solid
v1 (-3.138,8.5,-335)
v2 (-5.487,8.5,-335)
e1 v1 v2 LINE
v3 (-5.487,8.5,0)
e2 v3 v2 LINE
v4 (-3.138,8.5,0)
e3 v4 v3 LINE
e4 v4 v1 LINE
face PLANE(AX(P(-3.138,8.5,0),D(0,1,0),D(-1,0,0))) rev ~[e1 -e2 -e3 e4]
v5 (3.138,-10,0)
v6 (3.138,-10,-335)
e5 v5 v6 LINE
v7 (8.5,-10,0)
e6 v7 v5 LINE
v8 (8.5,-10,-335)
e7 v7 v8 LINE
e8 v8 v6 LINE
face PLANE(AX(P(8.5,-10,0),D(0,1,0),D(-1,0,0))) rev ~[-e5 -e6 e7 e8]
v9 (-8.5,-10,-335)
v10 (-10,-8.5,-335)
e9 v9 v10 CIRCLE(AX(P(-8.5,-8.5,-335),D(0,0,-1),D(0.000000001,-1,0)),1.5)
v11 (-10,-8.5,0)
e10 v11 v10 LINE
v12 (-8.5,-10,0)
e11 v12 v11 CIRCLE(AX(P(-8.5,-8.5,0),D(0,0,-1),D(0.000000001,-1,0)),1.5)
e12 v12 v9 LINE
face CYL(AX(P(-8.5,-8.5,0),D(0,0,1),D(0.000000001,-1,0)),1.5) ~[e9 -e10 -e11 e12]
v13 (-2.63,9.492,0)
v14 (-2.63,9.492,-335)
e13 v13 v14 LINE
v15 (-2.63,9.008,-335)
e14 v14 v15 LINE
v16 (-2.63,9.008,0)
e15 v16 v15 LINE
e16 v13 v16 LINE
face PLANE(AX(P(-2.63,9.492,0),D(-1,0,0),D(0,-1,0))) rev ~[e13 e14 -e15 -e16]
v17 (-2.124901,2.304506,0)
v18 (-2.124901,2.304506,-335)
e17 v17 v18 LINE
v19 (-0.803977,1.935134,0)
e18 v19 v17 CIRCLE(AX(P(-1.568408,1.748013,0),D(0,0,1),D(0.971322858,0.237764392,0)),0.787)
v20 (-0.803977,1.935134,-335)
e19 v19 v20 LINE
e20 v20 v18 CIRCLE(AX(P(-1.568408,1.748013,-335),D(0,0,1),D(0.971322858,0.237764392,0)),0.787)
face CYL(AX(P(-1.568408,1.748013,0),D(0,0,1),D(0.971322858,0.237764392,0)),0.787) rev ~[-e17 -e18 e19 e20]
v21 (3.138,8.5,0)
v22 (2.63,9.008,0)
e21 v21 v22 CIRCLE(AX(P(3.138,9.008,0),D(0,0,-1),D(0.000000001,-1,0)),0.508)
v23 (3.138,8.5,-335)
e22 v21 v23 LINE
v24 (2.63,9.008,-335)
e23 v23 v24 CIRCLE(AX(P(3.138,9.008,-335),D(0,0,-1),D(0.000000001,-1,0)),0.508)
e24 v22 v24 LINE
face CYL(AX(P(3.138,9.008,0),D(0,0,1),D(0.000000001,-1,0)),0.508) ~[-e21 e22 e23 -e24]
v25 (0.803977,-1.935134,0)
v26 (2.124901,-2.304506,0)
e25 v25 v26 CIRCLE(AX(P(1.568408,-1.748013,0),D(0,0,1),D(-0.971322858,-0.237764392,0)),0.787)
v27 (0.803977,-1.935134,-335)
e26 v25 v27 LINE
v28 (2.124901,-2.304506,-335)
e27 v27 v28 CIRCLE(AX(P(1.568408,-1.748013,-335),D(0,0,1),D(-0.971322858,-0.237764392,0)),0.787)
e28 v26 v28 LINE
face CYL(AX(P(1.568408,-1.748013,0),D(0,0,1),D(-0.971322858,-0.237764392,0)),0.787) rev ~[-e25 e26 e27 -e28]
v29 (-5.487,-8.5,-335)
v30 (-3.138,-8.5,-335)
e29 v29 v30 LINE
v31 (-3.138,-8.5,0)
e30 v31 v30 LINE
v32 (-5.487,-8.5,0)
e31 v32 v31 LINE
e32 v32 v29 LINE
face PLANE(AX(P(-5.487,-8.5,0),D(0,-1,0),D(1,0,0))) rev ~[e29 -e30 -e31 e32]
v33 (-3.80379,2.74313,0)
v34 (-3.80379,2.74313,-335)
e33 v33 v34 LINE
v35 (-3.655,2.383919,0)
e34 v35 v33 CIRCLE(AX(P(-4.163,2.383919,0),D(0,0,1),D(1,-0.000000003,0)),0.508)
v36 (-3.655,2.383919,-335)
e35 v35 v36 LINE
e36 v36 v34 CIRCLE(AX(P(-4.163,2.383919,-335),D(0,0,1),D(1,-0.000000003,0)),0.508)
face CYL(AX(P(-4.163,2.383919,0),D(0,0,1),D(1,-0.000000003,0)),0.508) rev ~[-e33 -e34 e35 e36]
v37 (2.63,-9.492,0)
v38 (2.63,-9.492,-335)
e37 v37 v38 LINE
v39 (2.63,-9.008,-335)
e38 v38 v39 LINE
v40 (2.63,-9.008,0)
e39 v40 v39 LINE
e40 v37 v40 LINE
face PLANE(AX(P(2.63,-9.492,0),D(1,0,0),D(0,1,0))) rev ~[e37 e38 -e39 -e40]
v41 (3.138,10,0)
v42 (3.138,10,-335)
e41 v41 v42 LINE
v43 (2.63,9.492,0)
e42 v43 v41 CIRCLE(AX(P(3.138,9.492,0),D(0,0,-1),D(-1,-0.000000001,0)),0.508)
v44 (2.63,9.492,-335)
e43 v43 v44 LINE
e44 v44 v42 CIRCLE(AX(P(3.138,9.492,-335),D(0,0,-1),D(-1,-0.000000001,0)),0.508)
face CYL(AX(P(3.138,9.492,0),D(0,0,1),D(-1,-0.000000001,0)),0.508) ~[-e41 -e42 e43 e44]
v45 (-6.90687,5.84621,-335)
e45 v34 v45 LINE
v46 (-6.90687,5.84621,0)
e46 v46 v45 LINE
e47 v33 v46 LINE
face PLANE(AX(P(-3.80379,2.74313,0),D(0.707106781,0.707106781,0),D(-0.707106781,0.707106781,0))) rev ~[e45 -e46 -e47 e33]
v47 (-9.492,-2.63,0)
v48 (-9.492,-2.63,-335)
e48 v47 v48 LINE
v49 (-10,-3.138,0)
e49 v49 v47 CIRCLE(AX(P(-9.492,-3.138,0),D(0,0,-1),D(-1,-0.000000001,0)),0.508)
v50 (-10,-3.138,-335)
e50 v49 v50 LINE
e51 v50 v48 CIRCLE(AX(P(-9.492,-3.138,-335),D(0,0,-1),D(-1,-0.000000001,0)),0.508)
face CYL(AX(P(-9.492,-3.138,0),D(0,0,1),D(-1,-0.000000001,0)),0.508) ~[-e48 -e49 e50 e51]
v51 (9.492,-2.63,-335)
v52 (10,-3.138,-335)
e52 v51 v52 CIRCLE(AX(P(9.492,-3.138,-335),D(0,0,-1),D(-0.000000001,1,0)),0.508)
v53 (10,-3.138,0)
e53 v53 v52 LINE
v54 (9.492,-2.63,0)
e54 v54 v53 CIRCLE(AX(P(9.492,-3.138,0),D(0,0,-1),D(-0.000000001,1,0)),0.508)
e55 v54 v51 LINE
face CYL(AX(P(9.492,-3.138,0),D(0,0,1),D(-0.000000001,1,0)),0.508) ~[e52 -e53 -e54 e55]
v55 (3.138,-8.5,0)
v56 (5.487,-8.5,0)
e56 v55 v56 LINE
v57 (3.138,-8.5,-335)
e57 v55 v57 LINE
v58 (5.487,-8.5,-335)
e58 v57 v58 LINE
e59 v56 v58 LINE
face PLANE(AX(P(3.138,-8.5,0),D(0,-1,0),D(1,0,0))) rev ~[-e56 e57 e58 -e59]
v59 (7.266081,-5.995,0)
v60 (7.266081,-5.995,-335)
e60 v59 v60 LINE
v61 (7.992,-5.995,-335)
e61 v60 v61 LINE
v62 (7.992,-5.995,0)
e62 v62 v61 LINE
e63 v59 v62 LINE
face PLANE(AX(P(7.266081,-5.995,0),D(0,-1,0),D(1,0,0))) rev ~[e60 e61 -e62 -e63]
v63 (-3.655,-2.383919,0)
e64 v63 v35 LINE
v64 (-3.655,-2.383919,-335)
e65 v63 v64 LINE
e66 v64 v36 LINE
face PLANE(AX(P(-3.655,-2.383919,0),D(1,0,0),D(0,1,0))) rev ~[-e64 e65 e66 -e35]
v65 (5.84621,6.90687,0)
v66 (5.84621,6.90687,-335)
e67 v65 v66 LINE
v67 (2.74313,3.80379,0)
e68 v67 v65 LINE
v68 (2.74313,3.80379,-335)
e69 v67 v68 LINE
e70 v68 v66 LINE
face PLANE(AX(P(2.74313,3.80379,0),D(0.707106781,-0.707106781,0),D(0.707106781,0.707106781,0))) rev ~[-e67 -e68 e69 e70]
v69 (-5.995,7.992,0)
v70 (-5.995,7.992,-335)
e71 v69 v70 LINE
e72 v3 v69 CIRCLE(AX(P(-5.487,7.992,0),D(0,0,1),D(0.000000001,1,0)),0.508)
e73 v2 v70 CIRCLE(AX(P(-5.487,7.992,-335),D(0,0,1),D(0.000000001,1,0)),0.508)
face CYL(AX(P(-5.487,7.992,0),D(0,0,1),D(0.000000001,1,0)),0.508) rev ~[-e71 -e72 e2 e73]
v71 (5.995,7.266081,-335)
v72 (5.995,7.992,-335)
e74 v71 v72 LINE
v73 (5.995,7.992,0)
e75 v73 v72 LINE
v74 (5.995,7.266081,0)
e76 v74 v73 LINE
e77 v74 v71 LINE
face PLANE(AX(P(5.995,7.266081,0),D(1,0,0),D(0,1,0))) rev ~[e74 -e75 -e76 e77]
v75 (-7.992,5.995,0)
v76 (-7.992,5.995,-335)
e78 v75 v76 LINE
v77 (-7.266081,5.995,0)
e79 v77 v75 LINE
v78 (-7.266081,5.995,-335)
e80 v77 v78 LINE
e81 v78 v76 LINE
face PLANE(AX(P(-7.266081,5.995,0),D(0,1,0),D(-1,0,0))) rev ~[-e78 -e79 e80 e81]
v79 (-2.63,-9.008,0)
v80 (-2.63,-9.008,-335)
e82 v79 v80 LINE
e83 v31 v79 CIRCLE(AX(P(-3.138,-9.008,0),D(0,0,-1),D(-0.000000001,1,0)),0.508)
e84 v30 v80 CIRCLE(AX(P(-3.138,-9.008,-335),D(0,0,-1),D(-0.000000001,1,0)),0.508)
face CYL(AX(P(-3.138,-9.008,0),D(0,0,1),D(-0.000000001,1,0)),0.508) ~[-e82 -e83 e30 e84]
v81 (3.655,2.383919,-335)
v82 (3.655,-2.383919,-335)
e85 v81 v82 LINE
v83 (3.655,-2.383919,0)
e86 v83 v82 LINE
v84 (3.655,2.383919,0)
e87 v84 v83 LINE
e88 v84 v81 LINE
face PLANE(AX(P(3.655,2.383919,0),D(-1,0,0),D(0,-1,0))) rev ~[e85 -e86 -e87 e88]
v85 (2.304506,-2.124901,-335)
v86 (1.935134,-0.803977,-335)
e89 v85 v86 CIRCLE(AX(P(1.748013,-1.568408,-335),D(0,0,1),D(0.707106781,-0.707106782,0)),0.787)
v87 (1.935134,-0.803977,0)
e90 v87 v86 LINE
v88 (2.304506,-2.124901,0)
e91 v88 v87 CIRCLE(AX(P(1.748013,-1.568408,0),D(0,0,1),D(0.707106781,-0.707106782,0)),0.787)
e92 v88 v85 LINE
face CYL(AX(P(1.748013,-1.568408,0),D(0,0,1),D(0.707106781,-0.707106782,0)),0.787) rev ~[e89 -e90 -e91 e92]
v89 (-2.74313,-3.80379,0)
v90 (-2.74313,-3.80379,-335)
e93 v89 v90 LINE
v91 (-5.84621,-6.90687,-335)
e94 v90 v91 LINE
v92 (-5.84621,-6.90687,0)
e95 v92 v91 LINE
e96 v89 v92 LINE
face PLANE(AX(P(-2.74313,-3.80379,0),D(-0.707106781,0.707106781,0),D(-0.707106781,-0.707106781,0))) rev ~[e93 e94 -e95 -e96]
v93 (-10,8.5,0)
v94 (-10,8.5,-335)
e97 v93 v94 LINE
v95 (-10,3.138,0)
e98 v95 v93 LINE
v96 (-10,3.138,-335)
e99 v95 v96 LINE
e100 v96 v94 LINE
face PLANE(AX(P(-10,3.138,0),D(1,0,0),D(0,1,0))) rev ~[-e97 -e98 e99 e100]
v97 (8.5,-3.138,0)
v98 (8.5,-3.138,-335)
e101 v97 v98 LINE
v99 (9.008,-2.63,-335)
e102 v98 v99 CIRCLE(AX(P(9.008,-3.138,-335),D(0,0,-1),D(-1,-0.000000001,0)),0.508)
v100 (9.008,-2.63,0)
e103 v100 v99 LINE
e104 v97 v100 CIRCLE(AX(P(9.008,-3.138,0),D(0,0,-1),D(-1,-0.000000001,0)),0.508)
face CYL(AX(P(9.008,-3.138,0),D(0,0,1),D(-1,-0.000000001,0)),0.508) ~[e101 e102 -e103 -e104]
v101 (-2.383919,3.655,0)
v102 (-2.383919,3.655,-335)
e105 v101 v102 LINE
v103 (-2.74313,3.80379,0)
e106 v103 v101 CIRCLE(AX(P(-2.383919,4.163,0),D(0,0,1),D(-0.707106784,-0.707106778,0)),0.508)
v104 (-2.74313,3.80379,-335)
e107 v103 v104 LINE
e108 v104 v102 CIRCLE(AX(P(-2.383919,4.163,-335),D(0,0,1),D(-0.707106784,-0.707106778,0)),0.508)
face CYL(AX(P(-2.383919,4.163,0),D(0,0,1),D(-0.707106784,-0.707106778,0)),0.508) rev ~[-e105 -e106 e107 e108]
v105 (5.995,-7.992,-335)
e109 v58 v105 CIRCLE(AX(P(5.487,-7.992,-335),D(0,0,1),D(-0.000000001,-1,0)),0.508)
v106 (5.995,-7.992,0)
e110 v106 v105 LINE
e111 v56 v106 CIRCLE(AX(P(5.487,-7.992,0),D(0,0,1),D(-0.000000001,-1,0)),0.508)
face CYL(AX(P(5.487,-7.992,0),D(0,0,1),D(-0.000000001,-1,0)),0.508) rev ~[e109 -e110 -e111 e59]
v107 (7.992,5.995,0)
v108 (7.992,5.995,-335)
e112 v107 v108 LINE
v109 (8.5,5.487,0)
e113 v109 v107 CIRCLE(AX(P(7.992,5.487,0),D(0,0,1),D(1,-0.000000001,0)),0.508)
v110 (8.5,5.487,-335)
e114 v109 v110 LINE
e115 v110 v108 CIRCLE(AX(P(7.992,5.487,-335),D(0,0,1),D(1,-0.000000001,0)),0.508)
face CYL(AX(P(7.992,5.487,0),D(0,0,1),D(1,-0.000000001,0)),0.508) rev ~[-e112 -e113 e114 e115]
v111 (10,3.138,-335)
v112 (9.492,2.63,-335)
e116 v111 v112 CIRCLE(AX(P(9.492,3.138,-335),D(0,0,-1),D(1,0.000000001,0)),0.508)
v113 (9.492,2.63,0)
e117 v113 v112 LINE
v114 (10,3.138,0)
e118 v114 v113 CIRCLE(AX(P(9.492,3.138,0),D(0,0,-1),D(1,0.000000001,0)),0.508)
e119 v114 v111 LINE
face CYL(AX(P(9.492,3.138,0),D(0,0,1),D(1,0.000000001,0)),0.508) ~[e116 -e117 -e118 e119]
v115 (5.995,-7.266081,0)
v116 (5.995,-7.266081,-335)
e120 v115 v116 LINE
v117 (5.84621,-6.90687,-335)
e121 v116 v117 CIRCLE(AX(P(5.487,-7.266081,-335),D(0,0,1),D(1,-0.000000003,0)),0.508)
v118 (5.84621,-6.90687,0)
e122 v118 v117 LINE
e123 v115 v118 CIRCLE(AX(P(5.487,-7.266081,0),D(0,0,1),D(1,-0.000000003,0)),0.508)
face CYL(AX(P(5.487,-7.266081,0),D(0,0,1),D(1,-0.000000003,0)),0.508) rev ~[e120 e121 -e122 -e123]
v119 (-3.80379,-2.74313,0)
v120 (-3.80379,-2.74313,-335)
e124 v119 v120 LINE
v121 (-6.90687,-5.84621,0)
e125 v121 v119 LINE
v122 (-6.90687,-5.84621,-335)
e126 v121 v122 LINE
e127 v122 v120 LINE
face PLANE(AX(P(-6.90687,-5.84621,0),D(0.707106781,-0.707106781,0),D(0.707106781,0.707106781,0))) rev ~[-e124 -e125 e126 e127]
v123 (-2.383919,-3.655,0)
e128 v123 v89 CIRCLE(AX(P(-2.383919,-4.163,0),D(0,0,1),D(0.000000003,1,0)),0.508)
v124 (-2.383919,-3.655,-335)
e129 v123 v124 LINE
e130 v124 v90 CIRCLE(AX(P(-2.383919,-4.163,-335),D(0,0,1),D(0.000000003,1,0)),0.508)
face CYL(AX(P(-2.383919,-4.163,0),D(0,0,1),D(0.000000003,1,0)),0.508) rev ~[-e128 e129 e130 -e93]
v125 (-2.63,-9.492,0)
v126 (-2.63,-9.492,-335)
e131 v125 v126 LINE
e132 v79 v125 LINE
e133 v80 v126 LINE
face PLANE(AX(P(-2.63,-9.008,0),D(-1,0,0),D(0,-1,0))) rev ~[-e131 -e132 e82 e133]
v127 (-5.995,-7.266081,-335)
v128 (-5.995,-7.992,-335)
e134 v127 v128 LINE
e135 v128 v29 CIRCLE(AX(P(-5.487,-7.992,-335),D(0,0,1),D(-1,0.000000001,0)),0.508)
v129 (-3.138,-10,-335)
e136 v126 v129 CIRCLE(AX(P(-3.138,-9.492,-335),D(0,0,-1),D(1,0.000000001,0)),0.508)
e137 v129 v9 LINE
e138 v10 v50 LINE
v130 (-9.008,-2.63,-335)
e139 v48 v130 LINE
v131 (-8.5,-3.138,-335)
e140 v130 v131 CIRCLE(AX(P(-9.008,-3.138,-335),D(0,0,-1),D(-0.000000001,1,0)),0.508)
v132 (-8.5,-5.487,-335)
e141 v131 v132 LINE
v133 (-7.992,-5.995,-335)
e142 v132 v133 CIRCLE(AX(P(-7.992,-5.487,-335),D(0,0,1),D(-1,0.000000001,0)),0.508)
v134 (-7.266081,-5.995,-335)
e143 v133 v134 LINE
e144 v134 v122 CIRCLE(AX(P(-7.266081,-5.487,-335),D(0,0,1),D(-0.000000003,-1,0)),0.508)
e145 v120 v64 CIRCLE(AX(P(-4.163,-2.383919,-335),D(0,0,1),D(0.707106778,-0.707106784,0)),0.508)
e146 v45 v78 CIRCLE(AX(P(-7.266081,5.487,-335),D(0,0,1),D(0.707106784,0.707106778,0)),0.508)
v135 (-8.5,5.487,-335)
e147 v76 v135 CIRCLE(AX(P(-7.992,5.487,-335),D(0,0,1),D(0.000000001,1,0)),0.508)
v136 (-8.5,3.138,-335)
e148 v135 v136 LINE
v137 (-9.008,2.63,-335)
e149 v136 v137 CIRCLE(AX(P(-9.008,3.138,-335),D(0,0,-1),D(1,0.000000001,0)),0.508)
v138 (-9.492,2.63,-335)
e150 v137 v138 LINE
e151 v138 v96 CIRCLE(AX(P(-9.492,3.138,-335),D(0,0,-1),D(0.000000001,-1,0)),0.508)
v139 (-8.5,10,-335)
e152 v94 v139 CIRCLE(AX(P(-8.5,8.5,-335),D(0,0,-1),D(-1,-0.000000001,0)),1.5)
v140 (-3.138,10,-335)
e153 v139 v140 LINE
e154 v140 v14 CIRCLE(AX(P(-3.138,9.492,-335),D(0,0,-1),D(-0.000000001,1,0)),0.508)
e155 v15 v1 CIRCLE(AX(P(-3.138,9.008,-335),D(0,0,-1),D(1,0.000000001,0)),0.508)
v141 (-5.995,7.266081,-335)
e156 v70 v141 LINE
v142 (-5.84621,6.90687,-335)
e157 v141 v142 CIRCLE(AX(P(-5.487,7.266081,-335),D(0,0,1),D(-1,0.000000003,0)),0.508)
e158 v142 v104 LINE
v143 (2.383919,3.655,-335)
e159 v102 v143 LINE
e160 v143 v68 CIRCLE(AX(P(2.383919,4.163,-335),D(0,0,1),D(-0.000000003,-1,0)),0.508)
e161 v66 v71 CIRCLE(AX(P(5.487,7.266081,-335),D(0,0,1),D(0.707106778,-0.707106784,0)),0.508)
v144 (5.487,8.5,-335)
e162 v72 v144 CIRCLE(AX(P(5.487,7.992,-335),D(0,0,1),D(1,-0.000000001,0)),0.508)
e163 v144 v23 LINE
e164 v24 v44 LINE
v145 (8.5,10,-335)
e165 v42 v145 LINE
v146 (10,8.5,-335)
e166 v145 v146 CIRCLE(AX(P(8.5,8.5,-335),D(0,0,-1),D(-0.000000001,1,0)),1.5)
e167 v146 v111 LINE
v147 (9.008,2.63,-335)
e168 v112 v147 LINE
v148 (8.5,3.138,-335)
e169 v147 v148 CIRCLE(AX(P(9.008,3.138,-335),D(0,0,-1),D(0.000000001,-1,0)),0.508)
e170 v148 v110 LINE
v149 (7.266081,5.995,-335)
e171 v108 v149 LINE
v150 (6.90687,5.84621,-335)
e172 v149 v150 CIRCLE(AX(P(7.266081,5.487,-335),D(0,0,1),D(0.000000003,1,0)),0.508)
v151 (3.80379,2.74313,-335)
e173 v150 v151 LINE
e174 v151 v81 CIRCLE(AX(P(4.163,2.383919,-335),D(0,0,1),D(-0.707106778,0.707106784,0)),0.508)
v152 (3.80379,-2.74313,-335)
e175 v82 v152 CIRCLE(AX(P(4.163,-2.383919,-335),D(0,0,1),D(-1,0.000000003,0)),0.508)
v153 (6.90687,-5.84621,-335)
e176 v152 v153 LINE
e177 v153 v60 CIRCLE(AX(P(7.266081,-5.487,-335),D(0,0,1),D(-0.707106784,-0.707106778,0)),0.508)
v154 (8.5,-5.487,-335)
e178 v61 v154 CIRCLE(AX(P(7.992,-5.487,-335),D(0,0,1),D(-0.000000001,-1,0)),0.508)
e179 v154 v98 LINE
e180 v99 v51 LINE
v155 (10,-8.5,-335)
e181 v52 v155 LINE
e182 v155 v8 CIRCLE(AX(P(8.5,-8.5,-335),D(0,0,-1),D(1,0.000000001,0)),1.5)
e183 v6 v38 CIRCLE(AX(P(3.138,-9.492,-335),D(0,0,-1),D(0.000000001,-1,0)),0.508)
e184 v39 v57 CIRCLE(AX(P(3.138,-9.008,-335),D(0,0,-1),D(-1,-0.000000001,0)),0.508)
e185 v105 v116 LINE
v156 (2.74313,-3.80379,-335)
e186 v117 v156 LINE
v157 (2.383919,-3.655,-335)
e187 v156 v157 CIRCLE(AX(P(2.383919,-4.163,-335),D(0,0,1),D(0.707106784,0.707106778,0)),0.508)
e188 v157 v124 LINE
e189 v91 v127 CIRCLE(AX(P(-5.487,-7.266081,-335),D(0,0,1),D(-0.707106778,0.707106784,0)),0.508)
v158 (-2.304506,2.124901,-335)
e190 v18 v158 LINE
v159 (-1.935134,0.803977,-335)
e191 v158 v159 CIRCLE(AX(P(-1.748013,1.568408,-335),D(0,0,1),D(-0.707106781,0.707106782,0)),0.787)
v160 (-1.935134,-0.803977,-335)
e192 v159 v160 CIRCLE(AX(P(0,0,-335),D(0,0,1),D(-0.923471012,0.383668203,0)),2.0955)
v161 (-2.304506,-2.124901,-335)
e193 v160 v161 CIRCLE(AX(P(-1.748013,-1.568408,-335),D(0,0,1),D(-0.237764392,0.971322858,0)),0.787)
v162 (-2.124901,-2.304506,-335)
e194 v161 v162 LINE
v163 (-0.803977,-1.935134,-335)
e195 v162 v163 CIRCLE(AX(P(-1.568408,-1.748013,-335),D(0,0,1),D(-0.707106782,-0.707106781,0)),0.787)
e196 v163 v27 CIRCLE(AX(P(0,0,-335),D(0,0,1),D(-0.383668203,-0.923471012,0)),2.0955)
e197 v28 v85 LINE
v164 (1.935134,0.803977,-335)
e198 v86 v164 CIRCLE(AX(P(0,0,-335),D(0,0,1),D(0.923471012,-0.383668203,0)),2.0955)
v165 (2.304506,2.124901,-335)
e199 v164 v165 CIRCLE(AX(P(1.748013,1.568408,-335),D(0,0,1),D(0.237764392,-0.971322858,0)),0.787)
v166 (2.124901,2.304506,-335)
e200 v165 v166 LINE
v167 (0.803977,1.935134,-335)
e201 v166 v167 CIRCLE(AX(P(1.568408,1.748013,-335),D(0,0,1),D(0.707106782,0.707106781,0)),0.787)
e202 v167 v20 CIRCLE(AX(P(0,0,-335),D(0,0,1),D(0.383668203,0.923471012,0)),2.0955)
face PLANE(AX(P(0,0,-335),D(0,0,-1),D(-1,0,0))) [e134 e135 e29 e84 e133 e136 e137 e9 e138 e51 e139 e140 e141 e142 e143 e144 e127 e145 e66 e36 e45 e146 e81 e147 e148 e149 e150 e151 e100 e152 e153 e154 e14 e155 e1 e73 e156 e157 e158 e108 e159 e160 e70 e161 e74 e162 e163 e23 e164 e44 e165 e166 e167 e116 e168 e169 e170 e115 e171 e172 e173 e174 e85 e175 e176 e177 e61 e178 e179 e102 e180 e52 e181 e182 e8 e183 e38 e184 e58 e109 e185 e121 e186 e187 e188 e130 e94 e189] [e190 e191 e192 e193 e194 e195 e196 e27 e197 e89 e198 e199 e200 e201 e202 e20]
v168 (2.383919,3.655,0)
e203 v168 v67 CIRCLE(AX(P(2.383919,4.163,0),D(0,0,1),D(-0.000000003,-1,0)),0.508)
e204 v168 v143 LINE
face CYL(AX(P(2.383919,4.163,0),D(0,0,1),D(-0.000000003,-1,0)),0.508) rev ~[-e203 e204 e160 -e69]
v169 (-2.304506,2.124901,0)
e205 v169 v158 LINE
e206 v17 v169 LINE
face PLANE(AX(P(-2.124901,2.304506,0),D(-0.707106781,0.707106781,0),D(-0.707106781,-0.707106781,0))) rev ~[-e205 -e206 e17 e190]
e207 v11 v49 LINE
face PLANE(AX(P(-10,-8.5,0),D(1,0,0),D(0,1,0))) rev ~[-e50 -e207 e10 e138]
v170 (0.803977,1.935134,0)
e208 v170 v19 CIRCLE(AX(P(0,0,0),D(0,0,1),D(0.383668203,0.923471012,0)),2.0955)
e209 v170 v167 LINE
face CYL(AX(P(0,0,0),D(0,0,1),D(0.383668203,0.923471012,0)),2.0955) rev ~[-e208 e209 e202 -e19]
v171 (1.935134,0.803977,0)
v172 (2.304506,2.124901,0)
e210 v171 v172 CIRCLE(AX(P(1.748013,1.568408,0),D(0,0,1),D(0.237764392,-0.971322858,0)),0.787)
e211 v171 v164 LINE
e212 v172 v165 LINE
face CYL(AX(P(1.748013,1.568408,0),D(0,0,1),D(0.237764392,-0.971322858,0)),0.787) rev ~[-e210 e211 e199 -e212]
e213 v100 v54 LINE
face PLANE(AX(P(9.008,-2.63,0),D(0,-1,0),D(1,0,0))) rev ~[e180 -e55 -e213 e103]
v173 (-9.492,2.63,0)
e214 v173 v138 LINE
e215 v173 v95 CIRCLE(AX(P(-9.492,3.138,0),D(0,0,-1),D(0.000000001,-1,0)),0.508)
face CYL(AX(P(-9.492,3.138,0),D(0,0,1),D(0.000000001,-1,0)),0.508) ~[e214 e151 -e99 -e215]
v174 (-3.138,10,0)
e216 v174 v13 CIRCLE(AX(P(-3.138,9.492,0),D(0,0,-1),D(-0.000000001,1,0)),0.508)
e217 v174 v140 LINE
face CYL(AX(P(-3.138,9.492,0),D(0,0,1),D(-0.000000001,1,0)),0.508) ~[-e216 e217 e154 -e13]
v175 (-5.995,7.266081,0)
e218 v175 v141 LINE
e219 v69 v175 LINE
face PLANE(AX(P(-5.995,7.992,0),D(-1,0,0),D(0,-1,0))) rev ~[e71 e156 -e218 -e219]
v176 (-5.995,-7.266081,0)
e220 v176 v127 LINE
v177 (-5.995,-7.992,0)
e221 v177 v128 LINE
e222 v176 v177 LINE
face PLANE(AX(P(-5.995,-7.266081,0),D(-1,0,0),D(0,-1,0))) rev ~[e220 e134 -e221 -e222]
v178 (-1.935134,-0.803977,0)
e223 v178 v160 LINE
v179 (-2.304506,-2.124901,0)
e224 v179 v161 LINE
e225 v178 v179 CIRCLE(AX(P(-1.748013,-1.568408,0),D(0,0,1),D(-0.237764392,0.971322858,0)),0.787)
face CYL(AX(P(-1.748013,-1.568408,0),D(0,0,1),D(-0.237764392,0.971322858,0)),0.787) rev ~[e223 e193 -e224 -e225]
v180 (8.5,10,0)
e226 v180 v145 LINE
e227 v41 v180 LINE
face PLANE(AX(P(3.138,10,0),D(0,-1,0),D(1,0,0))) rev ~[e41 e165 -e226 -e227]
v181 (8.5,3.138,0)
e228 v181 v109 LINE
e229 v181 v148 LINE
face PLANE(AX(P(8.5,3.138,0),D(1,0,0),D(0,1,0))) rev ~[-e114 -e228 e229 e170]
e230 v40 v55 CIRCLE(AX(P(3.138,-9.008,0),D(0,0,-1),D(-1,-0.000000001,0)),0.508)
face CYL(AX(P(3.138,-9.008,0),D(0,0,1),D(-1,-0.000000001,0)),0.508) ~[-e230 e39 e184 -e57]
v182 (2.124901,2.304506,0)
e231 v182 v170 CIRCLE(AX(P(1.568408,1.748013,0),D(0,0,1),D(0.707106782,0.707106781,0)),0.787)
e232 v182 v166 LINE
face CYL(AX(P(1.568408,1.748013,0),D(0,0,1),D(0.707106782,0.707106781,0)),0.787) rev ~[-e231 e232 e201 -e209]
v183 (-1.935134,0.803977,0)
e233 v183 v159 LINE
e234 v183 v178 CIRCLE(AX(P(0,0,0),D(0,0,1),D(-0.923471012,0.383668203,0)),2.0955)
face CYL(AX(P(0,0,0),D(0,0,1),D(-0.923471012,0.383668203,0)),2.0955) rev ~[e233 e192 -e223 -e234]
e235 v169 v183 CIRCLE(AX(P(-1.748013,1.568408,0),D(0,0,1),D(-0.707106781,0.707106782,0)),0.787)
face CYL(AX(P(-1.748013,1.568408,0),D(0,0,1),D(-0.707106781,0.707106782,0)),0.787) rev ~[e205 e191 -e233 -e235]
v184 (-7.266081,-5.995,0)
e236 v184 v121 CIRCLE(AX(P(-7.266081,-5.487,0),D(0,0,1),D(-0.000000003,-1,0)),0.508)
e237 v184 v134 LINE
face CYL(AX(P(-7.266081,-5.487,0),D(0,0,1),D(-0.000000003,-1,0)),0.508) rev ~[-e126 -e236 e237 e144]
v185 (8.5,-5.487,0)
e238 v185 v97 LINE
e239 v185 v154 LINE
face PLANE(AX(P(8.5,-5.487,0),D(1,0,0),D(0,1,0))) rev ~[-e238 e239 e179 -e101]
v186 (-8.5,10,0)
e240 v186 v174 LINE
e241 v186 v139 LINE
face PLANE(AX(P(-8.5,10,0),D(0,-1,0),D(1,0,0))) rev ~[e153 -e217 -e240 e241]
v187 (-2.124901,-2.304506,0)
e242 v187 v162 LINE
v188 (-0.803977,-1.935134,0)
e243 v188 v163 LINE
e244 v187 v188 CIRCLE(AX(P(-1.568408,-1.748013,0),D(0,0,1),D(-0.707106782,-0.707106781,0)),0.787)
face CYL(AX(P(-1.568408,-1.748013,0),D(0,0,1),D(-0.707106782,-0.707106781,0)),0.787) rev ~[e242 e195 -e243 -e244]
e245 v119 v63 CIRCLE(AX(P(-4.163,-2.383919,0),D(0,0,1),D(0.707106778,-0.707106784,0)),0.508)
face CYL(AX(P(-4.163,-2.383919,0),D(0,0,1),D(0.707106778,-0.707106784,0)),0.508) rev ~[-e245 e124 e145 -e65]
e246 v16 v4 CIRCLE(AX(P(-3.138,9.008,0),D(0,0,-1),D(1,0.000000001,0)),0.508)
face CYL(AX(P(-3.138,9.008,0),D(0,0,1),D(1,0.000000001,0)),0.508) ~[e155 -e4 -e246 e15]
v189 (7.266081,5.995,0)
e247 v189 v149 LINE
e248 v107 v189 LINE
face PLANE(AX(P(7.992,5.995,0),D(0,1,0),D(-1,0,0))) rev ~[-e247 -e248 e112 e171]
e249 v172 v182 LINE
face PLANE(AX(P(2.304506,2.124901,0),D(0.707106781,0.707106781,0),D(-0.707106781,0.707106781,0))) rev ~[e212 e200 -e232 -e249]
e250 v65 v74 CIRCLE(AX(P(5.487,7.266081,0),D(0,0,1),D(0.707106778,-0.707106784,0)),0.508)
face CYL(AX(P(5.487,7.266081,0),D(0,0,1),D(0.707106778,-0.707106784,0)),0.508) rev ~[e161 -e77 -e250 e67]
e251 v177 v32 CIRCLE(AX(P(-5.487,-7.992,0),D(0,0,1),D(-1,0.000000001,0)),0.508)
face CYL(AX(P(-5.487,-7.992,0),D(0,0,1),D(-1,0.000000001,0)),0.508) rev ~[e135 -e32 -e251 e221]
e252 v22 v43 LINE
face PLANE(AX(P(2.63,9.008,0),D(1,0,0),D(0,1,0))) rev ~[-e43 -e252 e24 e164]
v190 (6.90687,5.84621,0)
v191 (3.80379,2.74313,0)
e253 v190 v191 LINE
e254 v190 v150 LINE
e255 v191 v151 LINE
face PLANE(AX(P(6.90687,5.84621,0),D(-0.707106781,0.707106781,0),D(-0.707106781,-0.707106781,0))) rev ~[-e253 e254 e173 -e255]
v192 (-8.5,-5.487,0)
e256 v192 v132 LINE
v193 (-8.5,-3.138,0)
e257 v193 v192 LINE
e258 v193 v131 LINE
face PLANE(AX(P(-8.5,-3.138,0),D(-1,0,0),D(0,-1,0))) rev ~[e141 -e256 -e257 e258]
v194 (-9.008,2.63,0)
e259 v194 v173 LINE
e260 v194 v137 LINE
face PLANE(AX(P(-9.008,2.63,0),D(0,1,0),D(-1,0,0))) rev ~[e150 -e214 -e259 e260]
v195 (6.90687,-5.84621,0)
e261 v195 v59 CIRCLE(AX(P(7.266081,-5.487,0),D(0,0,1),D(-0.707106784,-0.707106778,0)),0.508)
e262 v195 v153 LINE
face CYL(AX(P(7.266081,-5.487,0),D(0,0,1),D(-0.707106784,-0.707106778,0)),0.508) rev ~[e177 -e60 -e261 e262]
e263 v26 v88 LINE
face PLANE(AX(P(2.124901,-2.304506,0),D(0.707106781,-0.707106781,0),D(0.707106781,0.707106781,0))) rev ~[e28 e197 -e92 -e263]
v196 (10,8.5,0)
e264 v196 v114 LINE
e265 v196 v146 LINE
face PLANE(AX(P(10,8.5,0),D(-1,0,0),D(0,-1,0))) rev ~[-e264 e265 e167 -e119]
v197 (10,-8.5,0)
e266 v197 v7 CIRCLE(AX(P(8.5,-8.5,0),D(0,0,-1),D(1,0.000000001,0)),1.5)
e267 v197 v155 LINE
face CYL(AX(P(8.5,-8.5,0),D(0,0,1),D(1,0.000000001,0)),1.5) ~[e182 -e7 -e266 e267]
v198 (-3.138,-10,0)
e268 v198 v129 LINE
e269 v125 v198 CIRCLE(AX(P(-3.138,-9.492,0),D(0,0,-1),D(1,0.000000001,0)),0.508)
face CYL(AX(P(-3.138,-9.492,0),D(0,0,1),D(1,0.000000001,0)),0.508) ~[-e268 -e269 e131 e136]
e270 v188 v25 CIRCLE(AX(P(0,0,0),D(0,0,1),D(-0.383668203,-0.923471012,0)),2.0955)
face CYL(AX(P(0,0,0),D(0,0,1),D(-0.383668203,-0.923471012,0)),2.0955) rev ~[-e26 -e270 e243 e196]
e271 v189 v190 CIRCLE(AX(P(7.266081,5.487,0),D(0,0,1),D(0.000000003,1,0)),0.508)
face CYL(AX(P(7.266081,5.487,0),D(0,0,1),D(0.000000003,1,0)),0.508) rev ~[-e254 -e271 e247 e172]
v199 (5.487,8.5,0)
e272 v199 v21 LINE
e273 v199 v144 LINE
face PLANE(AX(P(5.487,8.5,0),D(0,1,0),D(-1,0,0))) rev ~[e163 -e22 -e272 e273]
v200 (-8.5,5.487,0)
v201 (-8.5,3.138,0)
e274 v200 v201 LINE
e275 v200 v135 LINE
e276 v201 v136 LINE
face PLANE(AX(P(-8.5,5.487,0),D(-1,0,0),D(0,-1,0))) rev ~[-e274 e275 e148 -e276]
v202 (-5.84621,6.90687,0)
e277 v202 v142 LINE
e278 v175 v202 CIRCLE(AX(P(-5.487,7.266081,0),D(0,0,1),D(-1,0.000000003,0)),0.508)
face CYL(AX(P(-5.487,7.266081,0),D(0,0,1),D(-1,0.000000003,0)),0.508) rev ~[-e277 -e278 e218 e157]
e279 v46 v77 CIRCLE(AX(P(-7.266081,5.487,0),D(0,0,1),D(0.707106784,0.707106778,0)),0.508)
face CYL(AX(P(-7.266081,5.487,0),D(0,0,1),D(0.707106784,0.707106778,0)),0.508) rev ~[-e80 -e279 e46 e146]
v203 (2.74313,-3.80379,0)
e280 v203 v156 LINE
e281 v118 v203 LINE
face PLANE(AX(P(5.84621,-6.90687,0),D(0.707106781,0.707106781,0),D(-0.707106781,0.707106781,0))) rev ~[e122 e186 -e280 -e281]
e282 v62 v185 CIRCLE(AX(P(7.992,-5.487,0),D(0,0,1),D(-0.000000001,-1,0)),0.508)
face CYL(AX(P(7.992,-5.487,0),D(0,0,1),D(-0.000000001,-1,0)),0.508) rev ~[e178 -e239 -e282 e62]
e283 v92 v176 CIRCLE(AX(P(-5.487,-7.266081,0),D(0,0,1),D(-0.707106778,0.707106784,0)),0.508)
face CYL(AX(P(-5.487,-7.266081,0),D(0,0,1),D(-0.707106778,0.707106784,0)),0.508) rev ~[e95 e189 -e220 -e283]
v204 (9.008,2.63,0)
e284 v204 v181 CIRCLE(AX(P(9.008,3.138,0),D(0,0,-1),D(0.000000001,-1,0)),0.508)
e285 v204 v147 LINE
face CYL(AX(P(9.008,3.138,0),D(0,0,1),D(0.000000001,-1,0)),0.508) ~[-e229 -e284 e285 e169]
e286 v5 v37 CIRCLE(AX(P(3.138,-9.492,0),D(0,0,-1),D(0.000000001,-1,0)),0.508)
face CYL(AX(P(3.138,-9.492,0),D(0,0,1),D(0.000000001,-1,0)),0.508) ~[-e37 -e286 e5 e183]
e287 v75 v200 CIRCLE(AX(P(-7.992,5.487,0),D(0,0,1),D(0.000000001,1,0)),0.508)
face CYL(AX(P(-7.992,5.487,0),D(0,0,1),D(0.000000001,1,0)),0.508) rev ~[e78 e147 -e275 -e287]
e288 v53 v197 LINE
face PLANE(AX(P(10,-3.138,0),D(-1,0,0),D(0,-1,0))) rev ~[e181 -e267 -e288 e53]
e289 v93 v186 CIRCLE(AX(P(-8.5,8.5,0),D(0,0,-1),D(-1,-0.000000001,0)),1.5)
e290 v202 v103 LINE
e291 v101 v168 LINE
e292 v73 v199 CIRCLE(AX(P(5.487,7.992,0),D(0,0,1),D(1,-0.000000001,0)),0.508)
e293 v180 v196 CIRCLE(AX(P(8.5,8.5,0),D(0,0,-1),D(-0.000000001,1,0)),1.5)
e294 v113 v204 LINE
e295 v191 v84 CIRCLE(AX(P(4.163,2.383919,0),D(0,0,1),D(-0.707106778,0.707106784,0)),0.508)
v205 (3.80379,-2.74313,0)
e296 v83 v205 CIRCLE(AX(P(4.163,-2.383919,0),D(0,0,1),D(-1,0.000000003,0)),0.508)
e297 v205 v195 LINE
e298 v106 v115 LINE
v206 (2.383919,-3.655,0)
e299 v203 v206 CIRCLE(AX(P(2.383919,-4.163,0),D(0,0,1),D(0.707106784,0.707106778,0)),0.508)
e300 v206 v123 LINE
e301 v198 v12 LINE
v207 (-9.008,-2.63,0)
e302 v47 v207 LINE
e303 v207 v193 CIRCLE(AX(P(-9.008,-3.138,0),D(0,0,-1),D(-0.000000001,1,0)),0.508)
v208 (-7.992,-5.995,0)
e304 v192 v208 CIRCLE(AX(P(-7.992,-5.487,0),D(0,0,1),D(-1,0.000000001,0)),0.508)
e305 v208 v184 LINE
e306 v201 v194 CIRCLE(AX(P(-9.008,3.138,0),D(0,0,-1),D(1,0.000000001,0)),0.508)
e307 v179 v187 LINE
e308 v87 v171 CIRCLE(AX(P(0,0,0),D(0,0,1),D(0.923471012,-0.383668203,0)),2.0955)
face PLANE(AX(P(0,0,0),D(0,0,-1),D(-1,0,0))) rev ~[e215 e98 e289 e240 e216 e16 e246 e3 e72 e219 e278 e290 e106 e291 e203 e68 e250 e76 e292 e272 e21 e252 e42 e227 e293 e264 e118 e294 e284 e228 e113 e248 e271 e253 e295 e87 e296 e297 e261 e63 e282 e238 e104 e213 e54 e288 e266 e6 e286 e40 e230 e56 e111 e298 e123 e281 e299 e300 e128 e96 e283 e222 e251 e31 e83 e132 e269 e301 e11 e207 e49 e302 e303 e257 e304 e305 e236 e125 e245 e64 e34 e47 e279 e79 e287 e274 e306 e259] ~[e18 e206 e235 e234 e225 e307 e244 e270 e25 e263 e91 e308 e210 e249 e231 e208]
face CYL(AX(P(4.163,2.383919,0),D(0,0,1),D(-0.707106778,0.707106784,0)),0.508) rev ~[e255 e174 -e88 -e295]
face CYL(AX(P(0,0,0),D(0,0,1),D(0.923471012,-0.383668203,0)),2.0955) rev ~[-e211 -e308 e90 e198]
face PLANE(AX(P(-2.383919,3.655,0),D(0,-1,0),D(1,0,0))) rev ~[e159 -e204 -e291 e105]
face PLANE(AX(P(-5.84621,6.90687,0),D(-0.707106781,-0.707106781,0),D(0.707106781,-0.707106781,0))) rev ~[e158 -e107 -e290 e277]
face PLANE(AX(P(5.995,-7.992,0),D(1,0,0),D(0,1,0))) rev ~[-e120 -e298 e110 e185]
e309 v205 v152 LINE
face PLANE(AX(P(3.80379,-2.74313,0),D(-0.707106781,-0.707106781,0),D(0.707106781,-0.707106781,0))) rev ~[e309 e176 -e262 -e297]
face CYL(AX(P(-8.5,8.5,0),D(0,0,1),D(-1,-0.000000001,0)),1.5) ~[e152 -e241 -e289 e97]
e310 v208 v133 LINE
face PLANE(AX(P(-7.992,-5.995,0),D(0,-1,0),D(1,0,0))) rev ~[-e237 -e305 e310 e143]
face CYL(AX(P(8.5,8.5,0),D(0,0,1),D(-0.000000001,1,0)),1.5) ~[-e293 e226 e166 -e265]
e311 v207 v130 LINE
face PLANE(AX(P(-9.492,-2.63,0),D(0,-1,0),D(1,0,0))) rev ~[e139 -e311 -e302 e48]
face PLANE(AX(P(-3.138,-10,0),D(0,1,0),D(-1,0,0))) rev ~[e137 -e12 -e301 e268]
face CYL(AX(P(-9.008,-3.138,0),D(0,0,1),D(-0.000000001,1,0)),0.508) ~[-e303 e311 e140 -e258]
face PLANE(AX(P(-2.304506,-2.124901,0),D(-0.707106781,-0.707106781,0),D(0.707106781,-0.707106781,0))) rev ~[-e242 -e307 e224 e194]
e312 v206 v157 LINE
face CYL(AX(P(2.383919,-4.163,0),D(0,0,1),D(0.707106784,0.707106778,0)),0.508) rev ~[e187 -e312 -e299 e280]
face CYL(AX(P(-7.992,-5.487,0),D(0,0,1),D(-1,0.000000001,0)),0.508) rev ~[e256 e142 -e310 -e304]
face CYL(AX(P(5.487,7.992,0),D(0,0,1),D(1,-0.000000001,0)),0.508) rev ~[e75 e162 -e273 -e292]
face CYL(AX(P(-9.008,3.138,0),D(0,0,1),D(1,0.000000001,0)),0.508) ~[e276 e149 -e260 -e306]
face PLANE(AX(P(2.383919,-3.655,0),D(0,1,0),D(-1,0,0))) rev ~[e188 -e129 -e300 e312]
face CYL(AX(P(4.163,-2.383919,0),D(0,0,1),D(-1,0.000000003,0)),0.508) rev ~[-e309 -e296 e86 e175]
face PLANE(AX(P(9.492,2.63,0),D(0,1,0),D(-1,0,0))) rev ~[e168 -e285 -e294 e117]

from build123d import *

# Parameters (mm, degrees)
EXTRUDE1_DEPTH = 335


with BuildPart() as part:
    # Sketch1 → Extrude1 (new body)
    with BuildSketch(Plane.XY):
        with BuildLine():
            Line((9.492, 2.63), (9.008, 2.63))
            ThreePointArc((9.008, 2.63), (8.648789755, 2.778789755), (8.5, 3.138))
            Line((8.5, 3.138), (8.5, 5.487))
            ThreePointArc((8.5, 5.487), (8.351210245, 5.846210245), (7.992, 5.995))
            Line((7.992, 5.995), (7.266080661, 5.995))
            ThreePointArc((7.266080661, 5.995), (7.071677478, 5.956330803), (6.906870417, 5.846210245))
            Line((6.906870417, 5.846210245), (3.803789755, 2.743129583))
            ThreePointArc((3.803789755, 2.743129583), (3.693669197, 2.578322522), (3.655, 2.383919339))
            Line((3.655, 2.383919339), (3.655, -2.383919339))
            ThreePointArc((3.655, -2.383919339), (3.693669197, -2.578322522), (3.803789755, -2.743129583))
            Line((3.803789755, -2.743129583), (6.906870417, -5.846210245))
            ThreePointArc((6.906870417, -5.846210245), (7.071677478, -5.956330803), (7.266080661, -5.995))
            Line((7.266080661, -5.995), (7.992, -5.995))
            ThreePointArc((7.992, -5.995), (8.351210245, -5.846210245), (8.5, -5.487))
            Line((8.5, -5.487), (8.5, -3.138))
            ThreePointArc((8.5, -3.138), (8.648789755, -2.778789755), (9.008, -2.63))
            Line((9.008, -2.63), (9.492, -2.63))
            ThreePointArc((9.492, -2.63), (9.851210245, -2.778789755), (10, -3.138))
            Line((10, -3.138), (10, -8.5))
            ThreePointArc((10, -8.5), (9.560660172, -9.560660172), (8.5, -10))
            Line((8.5, -10), (3.138, -10))
            ThreePointArc((3.138, -10), (2.778789755, -9.851210245), (2.63, -9.492))
            Line((2.63, -9.492), (2.63, -9.008))
            ThreePointArc((2.63, -9.008), (2.778789755, -8.648789755), (3.138, -8.5))
            Line((3.138, -8.5), (5.487, -8.5))
            ThreePointArc((5.487, -8.5), (5.846210245, -8.351210245), (5.995, -7.992))
            Line((5.995, -7.992), (5.995, -7.266080661))
            ThreePointArc((5.995, -7.266080661), (5.956330803, -7.071677478), (5.846210245, -6.906870417))
            Line((5.846210245, -6.906870417), (2.743129583, -3.803789755))
            ThreePointArc((2.743129583, -3.803789755), (2.578322522, -3.693669197), (2.383919339, -3.655))
            Line((2.383919339, -3.655), (-2.383919339, -3.655))
            ThreePointArc((-2.383919339, -3.655), (-2.578322522, -3.693669197), (-2.743129583, -3.803789755))
            Line((-2.743129583, -3.803789755), (-5.846210245, -6.906870417))
            ThreePointArc((-5.846210245, -6.906870417), (-5.956330803, -7.071677478), (-5.995, -7.266080661))
            Line((-5.995, -7.266080661), (-5.995, -7.992))
            ThreePointArc((-5.995, -7.992), (-5.846210245, -8.351210245), (-5.487, -8.5))
            Line((-5.487, -8.5), (-3.138, -8.5))
            ThreePointArc((-3.138, -8.5), (-2.778789755, -8.648789755), (-2.63, -9.008))
            Line((-2.63, -9.008), (-2.63, -9.492))
            ThreePointArc((-2.63, -9.492), (-2.778789755, -9.851210245), (-3.138, -10))
            Line((-3.138, -10), (-8.5, -10))
            ThreePointArc((-8.5, -10), (-9.560660172, -9.560660172), (-10, -8.5))
            Line((-10, -8.5), (-10, -3.138))
            ThreePointArc((-10, -3.138), (-9.851210245, -2.778789755), (-9.492, -2.63))
            Line((-9.492, -2.63), (-9.008, -2.63))
            ThreePointArc((-9.008, -2.63), (-8.648789755, -2.778789755), (-8.5, -3.138))
            Line((-8.5, -3.138), (-8.5, -5.487))
            ThreePointArc((-8.5, -5.487), (-8.351210245, -5.846210245), (-7.992, -5.995))
            Line((-7.992, -5.995), (-7.266080661, -5.995))
            ThreePointArc((-7.266080661, -5.995), (-7.071677478, -5.956330803), (-6.906870417, -5.846210245))
            Line((-6.906870417, -5.846210245), (-3.803789755, -2.743129583))
            ThreePointArc((-3.803789755, -2.743129583), (-3.693669197, -2.578322522), (-3.655, -2.383919339))
            Line((-3.655, -2.383919339), (-3.655, 2.383919339))
            ThreePointArc((-3.655, 2.383919339), (-3.693669197, 2.578322522), (-3.803789755, 2.743129583))
            Line((-3.803789755, 2.743129583), (-6.906870417, 5.846210245))
            ThreePointArc((-6.906870417, 5.846210245), (-7.071677478, 5.956330803), (-7.266080661, 5.995))
            Line((-7.266080661, 5.995), (-7.992, 5.995))
            ThreePointArc((-7.992, 5.995), (-8.351210245, 5.846210245), (-8.5, 5.487))
            Line((-8.5, 5.487), (-8.5, 3.138))
            ThreePointArc((-8.5, 3.138), (-8.648789755, 2.778789755), (-9.008, 2.63))
            Line((-9.008, 2.63), (-9.492, 2.63))
            ThreePointArc((-9.492, 2.63), (-9.851210245, 2.778789755), (-10, 3.138))
            Line((-10, 3.138), (-10, 8.5))
            ThreePointArc((-10, 8.5), (-9.560660172, 9.560660172), (-8.5, 10))
            Line((-8.5, 10), (-3.138, 10))
            ThreePointArc((-3.138, 10), (-2.778789755, 9.851210245), (-2.63, 9.492))
            Line((-2.63, 9.492), (-2.63, 9.008))
            ThreePointArc((-2.63, 9.008), (-2.778789755, 8.648789755), (-3.138, 8.5))
            Line((-3.138, 8.5), (-5.487, 8.5))
            ThreePointArc((-5.487, 8.5), (-5.846210245, 8.351210245), (-5.995, 7.992))
            Line((-5.995, 7.992), (-5.995, 7.266080661))
            ThreePointArc((-5.995, 7.266080661), (-5.956330803, 7.071677478), (-5.846210245, 6.906870417))
            Line((-5.846210245, 6.906870417), (-2.743129583, 3.803789755))
            ThreePointArc((-2.743129583, 3.803789755), (-2.578322522, 3.693669197), (-2.383919339, 3.655))
            Line((-2.383919339, 3.655), (2.383919339, 3.655))
            ThreePointArc((2.383919339, 3.655), (2.578322522, 3.693669197), (2.743129583, 3.803789755))
            Line((2.743129583, 3.803789755), (5.846210245, 6.906870417))
            ThreePointArc((5.846210245, 6.906870417), (5.956330803, 7.071677478), (5.995, 7.266080661))
            Line((5.995, 7.266080661), (5.995, 7.992))
            ThreePointArc((5.995, 7.992), (5.846210245, 8.351210245), (5.487, 8.5))
            Line((5.487, 8.5), (3.138, 8.5))
            ThreePointArc((3.138, 8.5), (2.778789755, 8.648789755), (2.63, 9.008))
            Line((2.63, 9.008), (2.63, 9.492))
            ThreePointArc((2.63, 9.492), (2.778789755, 9.851210245), (3.138, 10))
            Line((3.138, 10), (8.5, 10))
            ThreePointArc((8.5, 10), (9.560660172, 9.560660172), (10, 8.5))
            Line((10, 8.5), (10, 3.138))
            ThreePointArc((10, 3.138), (9.851210245, 2.778789755), (9.492, 2.63))
        make_face()
        with BuildLine():
            Line((2.124900844, -2.304505966), (2.304505966, -2.124900844))
            ThreePointArc((2.304505966, -2.124900844), (2.505938017, -1.356467811), (1.935133506, -0.803976718))
            ThreePointArc((1.935133506, -0.803976718), (2.0955, 0), (1.935133506, 0.803976718))
            ThreePointArc((1.935133506, 0.803976718), (2.505938017, 1.356467811), (2.304505966, 2.124900844))
            Line((2.304505966, 2.124900844), (2.124900844, 2.304505966))
            ThreePointArc((2.124900844, 2.304505966), (1.356467811, 2.505938017), (0.803976718, 1.935133506))
            ThreePointArc((0.803976718, 1.935133506), (0, 2.0955), (-0.803976718, 1.935133506))
            ThreePointArc((-0.803976718, 1.935133506), (-1.356467811, 2.505938017), (-2.124900844, 2.304505966))
            Line((-2.124900844, 2.304505966), (-2.304505966, 2.124900844))
            ThreePointArc((-2.304505966, 2.124900844), (-2.505938017, 1.356467811), (-1.935133506, 0.803976718))
            ThreePointArc((-1.935133506, 0.803976718), (-2.0955, 0), (-1.935133506, -0.803976718))
            ThreePointArc((-1.935133506, -0.803976718), (-2.505938017, -1.356467811), (-2.304505966, -2.124900844))
            Line((-2.304505966, -2.124900844), (-2.124900844, -2.304505966))
            ThreePointArc((-2.124900844, -2.304505966), (-1.356467811, -2.505938017), (-0.803976718, -1.935133506))
            ThreePointArc((-0.803976718, -1.935133506), (0, -2.0955), (0.803976718, -1.935133506))
            ThreePointArc((0.803976718, -1.935133506), (1.356467811, -2.505938017), (2.124900844, -2.304505966))
        make_face(mode=Mode.SUBTRACT)
    extrude(amount=-EXTRUDE1_DEPTH)


solid = part.part
